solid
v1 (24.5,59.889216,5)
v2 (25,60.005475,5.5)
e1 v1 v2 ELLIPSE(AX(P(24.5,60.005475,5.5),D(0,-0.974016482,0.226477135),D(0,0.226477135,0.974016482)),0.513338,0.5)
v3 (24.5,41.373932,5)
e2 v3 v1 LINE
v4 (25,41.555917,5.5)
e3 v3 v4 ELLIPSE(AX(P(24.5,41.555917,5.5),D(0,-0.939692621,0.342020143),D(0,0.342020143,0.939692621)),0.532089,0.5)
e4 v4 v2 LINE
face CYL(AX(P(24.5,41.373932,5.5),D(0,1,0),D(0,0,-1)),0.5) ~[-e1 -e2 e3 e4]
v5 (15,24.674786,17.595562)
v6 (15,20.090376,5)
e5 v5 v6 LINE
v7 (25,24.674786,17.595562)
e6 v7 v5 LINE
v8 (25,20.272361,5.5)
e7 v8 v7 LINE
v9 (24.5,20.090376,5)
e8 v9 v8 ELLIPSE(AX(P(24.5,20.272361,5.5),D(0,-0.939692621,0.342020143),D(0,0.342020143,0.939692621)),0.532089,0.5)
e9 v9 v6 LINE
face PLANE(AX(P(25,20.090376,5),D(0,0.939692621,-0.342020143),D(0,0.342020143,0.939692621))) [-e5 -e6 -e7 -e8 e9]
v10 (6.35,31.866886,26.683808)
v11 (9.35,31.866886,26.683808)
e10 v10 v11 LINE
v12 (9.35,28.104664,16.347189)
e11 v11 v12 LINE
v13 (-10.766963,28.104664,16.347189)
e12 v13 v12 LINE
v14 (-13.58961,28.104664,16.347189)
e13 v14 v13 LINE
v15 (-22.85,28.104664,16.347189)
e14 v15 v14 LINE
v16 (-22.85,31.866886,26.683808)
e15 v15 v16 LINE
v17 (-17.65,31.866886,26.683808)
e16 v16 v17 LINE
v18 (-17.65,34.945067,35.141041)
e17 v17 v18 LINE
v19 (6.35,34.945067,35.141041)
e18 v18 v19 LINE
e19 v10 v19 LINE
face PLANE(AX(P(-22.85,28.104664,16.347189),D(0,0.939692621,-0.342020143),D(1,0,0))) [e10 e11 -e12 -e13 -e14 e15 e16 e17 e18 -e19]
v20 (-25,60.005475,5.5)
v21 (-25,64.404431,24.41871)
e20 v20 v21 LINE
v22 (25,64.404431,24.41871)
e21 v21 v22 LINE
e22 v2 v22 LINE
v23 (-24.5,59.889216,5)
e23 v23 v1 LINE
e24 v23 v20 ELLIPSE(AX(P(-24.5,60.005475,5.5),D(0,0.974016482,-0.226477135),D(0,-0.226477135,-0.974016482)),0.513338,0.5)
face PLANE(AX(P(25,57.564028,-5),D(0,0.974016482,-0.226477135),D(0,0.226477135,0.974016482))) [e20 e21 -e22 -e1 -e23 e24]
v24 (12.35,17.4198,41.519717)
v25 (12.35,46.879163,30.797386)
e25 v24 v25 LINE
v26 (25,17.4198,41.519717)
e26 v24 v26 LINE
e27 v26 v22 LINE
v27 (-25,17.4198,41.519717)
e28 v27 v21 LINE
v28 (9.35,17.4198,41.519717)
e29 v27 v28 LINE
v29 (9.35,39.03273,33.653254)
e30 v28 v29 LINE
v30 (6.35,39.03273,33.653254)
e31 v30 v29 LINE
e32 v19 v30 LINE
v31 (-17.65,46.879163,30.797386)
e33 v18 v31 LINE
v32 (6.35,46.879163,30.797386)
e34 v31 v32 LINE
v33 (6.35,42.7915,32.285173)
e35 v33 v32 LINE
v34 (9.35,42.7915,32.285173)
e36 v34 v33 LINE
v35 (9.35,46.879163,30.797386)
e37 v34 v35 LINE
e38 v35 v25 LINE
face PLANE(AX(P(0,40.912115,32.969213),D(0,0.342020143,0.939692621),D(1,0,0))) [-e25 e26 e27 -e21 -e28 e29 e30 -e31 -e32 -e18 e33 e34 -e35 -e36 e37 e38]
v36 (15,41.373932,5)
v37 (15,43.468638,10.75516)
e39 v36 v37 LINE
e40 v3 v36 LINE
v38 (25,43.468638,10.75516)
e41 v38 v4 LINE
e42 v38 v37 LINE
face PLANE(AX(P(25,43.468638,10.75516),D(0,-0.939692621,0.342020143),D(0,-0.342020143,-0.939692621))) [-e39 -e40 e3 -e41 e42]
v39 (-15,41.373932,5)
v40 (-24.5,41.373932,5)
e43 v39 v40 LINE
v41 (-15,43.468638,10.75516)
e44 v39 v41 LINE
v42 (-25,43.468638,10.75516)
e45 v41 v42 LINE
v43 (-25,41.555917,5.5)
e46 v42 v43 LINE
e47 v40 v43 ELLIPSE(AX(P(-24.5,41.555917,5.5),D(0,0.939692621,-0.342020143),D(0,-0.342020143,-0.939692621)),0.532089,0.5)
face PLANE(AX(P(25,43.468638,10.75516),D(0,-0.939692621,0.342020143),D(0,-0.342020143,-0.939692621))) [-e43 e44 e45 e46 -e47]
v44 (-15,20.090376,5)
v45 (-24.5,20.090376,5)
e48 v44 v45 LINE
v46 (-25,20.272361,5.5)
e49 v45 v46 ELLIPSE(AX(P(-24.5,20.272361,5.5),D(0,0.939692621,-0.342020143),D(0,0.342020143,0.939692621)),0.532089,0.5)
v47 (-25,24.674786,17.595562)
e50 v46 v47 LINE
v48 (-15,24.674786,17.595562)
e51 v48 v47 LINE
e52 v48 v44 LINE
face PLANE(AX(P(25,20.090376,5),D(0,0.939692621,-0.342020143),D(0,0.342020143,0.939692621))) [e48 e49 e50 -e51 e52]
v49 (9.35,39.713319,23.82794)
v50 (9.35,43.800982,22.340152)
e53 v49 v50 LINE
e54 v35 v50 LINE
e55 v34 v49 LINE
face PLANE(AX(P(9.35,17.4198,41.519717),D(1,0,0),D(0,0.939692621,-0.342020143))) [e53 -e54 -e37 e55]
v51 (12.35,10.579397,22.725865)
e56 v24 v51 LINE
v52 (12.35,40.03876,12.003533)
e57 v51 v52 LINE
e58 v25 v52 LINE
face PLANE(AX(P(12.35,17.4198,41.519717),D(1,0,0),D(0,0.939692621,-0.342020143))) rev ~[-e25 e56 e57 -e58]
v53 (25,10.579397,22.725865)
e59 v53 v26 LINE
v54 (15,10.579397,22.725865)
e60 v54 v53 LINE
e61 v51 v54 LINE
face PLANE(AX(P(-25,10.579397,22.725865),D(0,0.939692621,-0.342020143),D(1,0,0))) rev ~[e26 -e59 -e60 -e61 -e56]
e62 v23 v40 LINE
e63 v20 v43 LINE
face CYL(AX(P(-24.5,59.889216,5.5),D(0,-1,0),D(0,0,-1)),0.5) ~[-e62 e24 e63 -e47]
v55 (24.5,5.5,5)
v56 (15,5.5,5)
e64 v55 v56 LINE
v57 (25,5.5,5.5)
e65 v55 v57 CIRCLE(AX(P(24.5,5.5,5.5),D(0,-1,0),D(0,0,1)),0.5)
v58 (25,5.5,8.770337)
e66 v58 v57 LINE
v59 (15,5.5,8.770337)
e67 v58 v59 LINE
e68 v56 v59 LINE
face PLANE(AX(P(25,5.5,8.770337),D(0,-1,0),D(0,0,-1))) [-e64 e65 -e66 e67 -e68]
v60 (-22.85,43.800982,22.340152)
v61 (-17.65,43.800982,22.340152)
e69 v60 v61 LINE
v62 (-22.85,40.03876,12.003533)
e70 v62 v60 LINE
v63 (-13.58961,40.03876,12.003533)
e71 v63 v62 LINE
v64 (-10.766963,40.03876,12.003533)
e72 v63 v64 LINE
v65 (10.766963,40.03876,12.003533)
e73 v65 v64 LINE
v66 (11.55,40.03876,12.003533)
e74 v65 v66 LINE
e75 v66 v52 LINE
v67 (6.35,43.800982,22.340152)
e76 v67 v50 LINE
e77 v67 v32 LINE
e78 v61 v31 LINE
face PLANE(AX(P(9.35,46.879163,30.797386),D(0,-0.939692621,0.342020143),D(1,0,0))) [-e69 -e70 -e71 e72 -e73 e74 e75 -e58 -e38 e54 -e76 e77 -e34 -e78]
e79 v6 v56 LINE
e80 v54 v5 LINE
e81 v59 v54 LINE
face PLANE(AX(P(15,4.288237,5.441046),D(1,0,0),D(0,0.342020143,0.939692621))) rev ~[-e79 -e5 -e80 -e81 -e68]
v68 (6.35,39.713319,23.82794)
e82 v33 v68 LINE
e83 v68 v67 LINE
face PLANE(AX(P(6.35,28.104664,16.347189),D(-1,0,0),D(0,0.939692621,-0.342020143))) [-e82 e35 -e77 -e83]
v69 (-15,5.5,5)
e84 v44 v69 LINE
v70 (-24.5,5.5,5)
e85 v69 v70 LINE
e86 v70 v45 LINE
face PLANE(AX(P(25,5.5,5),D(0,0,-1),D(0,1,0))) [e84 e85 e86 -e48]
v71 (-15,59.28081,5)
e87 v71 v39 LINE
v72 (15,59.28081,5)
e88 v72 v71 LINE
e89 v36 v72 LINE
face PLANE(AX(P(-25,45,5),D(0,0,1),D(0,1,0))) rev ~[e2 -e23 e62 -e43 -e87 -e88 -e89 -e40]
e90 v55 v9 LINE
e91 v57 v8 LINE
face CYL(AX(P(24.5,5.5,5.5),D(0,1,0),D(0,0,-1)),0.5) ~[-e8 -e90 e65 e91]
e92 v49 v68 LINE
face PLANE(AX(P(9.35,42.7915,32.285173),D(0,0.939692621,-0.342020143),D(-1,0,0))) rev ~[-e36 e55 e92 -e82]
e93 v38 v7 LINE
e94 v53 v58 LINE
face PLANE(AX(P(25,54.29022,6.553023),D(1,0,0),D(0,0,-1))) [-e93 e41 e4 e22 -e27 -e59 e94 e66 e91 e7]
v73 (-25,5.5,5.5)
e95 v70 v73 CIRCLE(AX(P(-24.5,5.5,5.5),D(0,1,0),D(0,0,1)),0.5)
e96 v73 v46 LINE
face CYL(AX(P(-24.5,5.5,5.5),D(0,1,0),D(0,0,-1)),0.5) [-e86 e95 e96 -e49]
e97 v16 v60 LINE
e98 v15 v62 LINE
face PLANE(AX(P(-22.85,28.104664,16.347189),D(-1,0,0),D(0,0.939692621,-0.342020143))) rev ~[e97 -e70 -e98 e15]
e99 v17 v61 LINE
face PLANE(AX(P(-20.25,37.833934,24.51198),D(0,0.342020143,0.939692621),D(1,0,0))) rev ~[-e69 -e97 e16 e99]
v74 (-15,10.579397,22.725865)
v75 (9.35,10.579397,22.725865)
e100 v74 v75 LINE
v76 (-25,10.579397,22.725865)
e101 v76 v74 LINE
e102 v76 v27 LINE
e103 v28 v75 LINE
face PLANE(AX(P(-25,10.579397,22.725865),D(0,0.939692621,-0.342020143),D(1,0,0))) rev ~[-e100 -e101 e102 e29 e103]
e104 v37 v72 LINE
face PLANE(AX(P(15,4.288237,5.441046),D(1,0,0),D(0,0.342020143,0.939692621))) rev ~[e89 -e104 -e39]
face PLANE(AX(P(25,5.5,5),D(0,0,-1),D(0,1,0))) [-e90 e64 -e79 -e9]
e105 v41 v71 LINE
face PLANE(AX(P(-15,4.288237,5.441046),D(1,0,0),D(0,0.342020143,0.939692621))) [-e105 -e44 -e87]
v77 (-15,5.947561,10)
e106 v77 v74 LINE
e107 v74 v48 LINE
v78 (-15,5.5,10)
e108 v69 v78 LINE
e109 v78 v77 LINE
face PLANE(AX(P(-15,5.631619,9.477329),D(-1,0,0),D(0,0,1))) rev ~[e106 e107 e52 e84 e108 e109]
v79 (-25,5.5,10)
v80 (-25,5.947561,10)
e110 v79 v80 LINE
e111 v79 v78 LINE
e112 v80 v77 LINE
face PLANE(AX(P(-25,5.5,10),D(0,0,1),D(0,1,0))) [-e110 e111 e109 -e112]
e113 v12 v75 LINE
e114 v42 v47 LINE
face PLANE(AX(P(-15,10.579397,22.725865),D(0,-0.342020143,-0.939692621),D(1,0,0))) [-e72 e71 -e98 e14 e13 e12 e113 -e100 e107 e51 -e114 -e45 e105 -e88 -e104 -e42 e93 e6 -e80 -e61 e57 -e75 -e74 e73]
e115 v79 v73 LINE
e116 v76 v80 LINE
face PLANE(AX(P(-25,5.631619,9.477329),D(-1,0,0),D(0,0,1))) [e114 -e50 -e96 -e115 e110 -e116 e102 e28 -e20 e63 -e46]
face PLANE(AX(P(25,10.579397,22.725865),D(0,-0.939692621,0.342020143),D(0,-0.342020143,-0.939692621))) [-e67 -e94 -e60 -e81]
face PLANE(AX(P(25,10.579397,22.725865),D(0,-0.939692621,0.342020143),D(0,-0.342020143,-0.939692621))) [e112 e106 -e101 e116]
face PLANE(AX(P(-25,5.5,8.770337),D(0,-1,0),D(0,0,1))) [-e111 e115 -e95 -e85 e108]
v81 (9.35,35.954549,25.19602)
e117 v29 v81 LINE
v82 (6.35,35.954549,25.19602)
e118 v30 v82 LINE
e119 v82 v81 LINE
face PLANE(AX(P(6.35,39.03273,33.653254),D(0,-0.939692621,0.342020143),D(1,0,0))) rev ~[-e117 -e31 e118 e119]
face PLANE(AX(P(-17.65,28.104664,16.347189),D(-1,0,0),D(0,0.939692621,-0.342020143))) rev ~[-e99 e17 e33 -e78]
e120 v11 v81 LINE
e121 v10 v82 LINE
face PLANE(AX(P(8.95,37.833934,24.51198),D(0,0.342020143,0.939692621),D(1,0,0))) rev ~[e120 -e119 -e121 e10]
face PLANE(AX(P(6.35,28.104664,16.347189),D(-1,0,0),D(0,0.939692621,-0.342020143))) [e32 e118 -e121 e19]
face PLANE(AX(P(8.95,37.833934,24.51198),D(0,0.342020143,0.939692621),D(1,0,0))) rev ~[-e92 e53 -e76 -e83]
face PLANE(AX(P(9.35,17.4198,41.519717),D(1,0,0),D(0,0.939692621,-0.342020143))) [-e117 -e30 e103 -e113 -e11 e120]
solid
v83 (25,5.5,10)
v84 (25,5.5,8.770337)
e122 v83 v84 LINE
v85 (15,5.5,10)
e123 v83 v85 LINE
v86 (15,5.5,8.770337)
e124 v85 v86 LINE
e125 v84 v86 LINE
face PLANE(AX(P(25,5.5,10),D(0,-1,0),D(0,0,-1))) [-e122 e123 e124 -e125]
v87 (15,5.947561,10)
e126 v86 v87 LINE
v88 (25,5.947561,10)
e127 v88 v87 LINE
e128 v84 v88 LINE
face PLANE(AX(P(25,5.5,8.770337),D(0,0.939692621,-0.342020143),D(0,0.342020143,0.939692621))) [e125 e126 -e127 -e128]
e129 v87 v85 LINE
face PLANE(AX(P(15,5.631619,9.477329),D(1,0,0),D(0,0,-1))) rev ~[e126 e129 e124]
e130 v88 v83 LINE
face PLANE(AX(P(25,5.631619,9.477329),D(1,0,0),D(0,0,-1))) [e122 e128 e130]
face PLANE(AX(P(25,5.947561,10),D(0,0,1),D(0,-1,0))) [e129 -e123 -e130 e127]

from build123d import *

# Parameters (mm, degrees)
SKETCH2_W            = 6
SKETCH2_H            = 6
BOSS_EXTRUDE1_DEPTH  = 5
SKETCH3_W            = 200
SKETCH3_H            = 20
CUT_EXTRUDE1_DEPTH   = 5
SKETCH4_W            = 5
SKETCH4_H            = 5
CUT_EXTRUDE2_DEPTH   = 5
SKETCH6_W            = 100
SKETCH6_H            = 20
BOSS_EXTRUDE2_DEPTH  = 100
BOSS_EXTRUDE3_DEPTH  = 100
CUT_EXTRUDE4_DEPTH   = 100
BOSS_EXTRUDE5_DEPTH  = 100
SKETCH14_R           = 12.5
CUT_EXTRUDE5_DEPTH   = 100
SKETCH15_R           = 15
SKETCH15_R_2         = 12.5
BOSS_EXTRUDE6_DEPTH  = 40
SKETCH16_W           = 50
SKETCH16_H           = 61.072294376
CUT_EXTRUDE10_DEPTH  = 35
SKETCH15_4_R         = 15
SKETCH15_4_R_2       = 12.5
CUT_EXTRUDE11_DEPTH  = 15
BOSS_EXTRUDE7_DEPTH  = 5
SKETCH23_R           = 15
SKETCH23_R_2         = 12.5
BOSS_EXTRUDE8_DEPTH  = 25
SKETCH21_W           = 50
SKETCH21_H           = 55
CUT_EXTRUDE12_DEPTH  = 35
SKETCH22_W           = 50
SKETCH22_H           = 55
BOSS_EXTRUDE9_DEPTH  = 5
SKETCH23_3_R         = 12.5
CUT_EXTRUDE13_DEPTH  = 20
CUT_EXTRUDE15_DEPTH  = 3
CUT_EXTRUDE16_DEPTH  = 5
SKETCH28_3_W         = 50
SKETCH28_3_H         = 5
BOSS_EXTRUDE12_DEPTH = 5
SKETCH31_W           = 50
SKETCH31_H           = 50
SKETCH31_W_2         = 24
SKETCH31_H_2         = 12.7
BOSS_EXTRUDE13_DEPTH = 20
SKETCH31_5_W         = 5.2
SKETCH31_5_H         = 12.7
CUT_EXTRUDE17_DEPTH  = 11
CUT_EXTRUDE18_DEPTH  = 9
SKETCH34_W           = 50
SKETCH34_H           = 50
CUT_EXTRUDE19_DEPTH  = 105
CUT_EXTRUDE20_DEPTH  = 110
SKETCH38_R           = 15
SKETCH38_R_2         = 12.5
CUT_EXTRUDE21_DEPTH  = 20
SKETCH39_W           = 3
SKETCH39_H           = 31.35
CUT_EXTRUDE23_DEPTH  = 20
BOSS_EXTRUDE15_DEPTH = 50
SKETCH42_W           = 30
SKETCH42_H           = 18.394120173
CUT_EXTRUDE24_DEPTH  = 55
CUT_EXTRUDE25_DEPTH  = 55
FILLET1_R            = 0.5
BOSS_EXTRUDE16_DEPTH = 10
BOSS_EXTRUDE17_DEPTH = 10


with BuildPart() as part:
    # Sketch2 → Boss-Extrude1 (new body)
    with BuildSketch(Plane.XY):
        Polygon((-100, 75), (-100, -45), (-60, -45), (-60, -65), (0, -65), (60, -65), (60, -45), (100, -45), (100, 75), align=None)
        with Locations((55, -50)):
            Rectangle(SKETCH2_W, SKETCH2_H, mode=Mode.SUBTRACT)
        with Locations((-55, -50)):
            Rectangle(SKETCH2_W, SKETCH2_H, mode=Mode.SUBTRACT)
    extrude(amount=BOSS_EXTRUDE1_DEPTH)

    # Sketch3 → Cut-Extrude1 (cut)
    with BuildSketch(Plane.XY.offset(5)):
        with Locations((0, 65)):
            Rectangle(SKETCH3_W, SKETCH3_H)
    extrude(amount=-CUT_EXTRUDE1_DEPTH, mode=Mode.SUBTRACT)

    # Sketch4 → Cut-Extrude2 (cut)
    with BuildSketch(Plane(origin=(0, 0, 0), x_dir=(-1, 0, 0), z_dir=(0, 0, -1))):
        with Locations((-97.5, 47.5)):
            Rectangle(SKETCH4_W, SKETCH4_H)
        Polygon((95, 50), (95, 45), (97.5, 45), (100, 45), (100, 50), align=None)
        with Locations((-97.5, 5)):
            Rectangle(SKETCH4_W, SKETCH4_H)
        with Locations((97.5, 5)):
            Rectangle(SKETCH4_W, SKETCH4_H)
        with Locations((-97.5, -37.5)):
            Rectangle(SKETCH4_W, SKETCH4_H)
        Polygon((100, -35), (95, -35), (95, -40), (97.5, -40), (100, -40), align=None)
    extrude(amount=-CUT_EXTRUDE2_DEPTH, mode=Mode.SUBTRACT)

    # Sketch6 → Boss-Extrude2 (add)
    with BuildSketch(Plane(origin=(0, 0, 0), x_dir=(-1, 0, 0), z_dir=(0, 0, -1))):
        with Locations((0, -55)):
            Rectangle(SKETCH6_W, SKETCH6_H)
    extrude(amount=BOSS_EXTRUDE2_DEPTH)

    # Sketch8 → Boss-Extrude3 (add)
    with BuildSketch(Plane(origin=(50, 0, 0), x_dir=(0, 0, -1), z_dir=(1, 0, 0))):
        Polygon((42.17911114, -45), (100, -45), (100, 55), (78.57613456, 55), (63.797824283, 14.396926208), (60.37762285, 5), (56.957421417, -4.396926208), align=None)
    extrude(amount=-BOSS_EXTRUDE3_DEPTH)

    # Sketch12 → Cut-Extrude4 (cut)
    with BuildSketch(Plane(origin=(50, 0, 0), x_dir=(0, 0, -1), z_dir=(1, 0, 0))):
        Polygon((78.57613456, 55), (42.17911114, -45), (47.5, -45), (83.89702342, 55), align=None)
    extrude(amount=-CUT_EXTRUDE4_DEPTH, mode=Mode.SUBTRACT)

    # Sketch13 → Boss-Extrude5 (add)
    with BuildSketch(Plane(origin=(0, -20.530205756, -56.406276742), x_dir=(1, 0, 0), z_dir=(0, 0.3420201432707361, 0.9396926208059023))):
        with BuildLine():
            ThreePointArc((10, 27.168677492), (7.071067812, 34.239745304), (0, 37.168677492))
            ThreePointArc((0, 37.168677492), (-7.071067812, 20.09760968), (10, 27.168677492))
        make_face()
    extrude(amount=BOSS_EXTRUDE5_DEPTH)

    # Sketch14 → Cut-Extrude5 (cut)
    with BuildSketch(Plane(origin=(0, 13.671808571, 37.562985339), x_dir=(1, 0, 0), z_dir=(0, 0.34202014327073604, 0.9396926208059022))):
        with Locations((0, 27.168677492)):
            Circle(SKETCH14_R)
    extrude(amount=-CUT_EXTRUDE5_DEPTH, mode=Mode.SUBTRACT)

    # Sketch15 → Boss-Extrude6 (add)
    with BuildSketch(Plane(origin=(0, 13.671808571, 37.562985339), x_dir=(1, 0, 0), z_dir=(0, 0.3420201432707362, 0.9396926208059023))):
        with Locations((0, 27.168677492)):
            Circle(SKETCH15_R)
        with Locations((0, 27.168677492)):
            Circle(SKETCH15_R_2, mode=Mode.SUBTRACT)
    extrude(amount=-BOSS_EXTRUDE6_DEPTH)

    # Sketch16 → Cut-Extrude10 (cut)
    with BuildSketch(Plane(origin=(0, 0, -30), x_dir=(-1, 0, 0), z_dir=(0, 0, -1))):
        with Locations((0, 30.536147188)):
            Rectangle(SKETCH16_W, SKETCH16_H)
    extrude(amount=-CUT_EXTRUDE10_DEPTH, mode=Mode.SUBTRACT)


with BuildPart() as cut_extrude10_piece_1:
    # of the separate pieces the step leaves, piece 1, a body of its own (cut_extrude10_pieces)
    add(part.part.solids().sort_by_distance((-100, 55, 0))[0])

    # Sketch18 → Boss-Extrude7 (add)
    with BuildSketch(Plane.XY.offset(5)):
        Polygon((30, 55), (25, 55), (25, 0), (-25, 0), (-25, 55), (-30, 55), (-30, -5), (30, -5), (30, 0), align=None)
    extrude(amount=BOSS_EXTRUDE7_DEPTH)



with BuildPart() as cut_extrude10_piece_2:
    # of the separate pieces the step leaves, piece 2, a body of its own (cut_extrude10_pieces)
    add(part.part.solids().sort_by_distance((15, 39.202014327, 28.270750371))[0])

    # Sketch15<4> → Cut-Extrude11 (cut)
    with BuildSketch(Plane(origin=(0, 13.671808571, 37.562985339), x_dir=(1, 0, 0), z_dir=(0, 0.3420201432707362, 0.9396926208059023))):
        with Locations((0, 27.168677492)):
            Circle(SKETCH15_4_R)
        with Locations((0, 27.168677492)):
            Circle(SKETCH15_4_R_2, mode=Mode.SUBTRACT)
    extrude(amount=-CUT_EXTRUDE11_DEPTH, mode=Mode.SUBTRACT)

    # Sketch23 → Boss-Extrude8 (add)
    with BuildSketch(Plane(origin=(0, 8.541506422, 23.467596027), x_dir=(1, 0, 0), z_dir=(0, 0.34202014327073627, 0.9396926208059023))):
        with Locations((0, 27.168677492)):
            Circle(SKETCH23_R)
        with Locations((0, 27.168677492)):
            Circle(SKETCH23_R_2, mode=Mode.SUBTRACT)
    extrude(amount=-BOSS_EXTRUDE8_DEPTH)

    # Sketch21 → Cut-Extrude12 (cut)
    with BuildSketch(Plane(origin=(0, 0, -30), x_dir=(-1, 0, 0), z_dir=(0, 0, -1))):
        with Locations((0, 27.5)):
            Rectangle(SKETCH21_W, SKETCH21_H)
    extrude(amount=-CUT_EXTRUDE12_DEPTH, mode=Mode.SUBTRACT)


with BuildPart() as cut_extrude10_piece_1_1:
    add(cut_extrude10_piece_1.part)

    add(cut_extrude10_piece_2.part)  # Boss-Extrude9 merges Cut-Extrude10 piece 2
    # Sketch22 → Boss-Extrude9 (add)
    with BuildSketch(Plane(origin=(0, 0, 0), x_dir=(-1, 0, 0), z_dir=(0, 0, -1))):
        with Locations((0, 27.5)):
            Rectangle(SKETCH22_W, SKETCH22_H)
    extrude(amount=-BOSS_EXTRUDE9_DEPTH)

    # Sketch23<3> → Cut-Extrude13 (cut)
    with BuildSketch(Plane(origin=(0, 8.541506422, 23.467596027), x_dir=(1, 0, 0), z_dir=(0, 0.34202014327073627, 0.9396926208059023))):
        with Locations((0, 27.168677492)):
            Circle(SKETCH23_3_R)
    extrude(amount=-CUT_EXTRUDE13_DEPTH, mode=Mode.SUBTRACT)

    # Sketch27 → Cut-Extrude15 (cut)
    with BuildSketch(Plane(origin=(0, 8.541506422, 23.467596027), x_dir=(1, 0, 0), z_dir=(0, 0.34202014327073627, 0.9396926208059023))):
        with BuildLine():
            ThreePointArc((2, 42.034746239), (0, 42.168677492), (-2, 42.034746239))
            Line((-2, 42.034746239), (-2, 39.507640171))
            ThreePointArc((-2, 39.507640171), (0, 39.668677492), (2, 39.507640171))
            Line((2, 39.507640171), (2, 42.034746239))
        make_face()
        with BuildLine():
            Line((-12.338962679, 29.168677492), (-14.866068747, 29.168677492))
            ThreePointArc((-14.866068747, 29.168677492), (-15, 27.168677492), (-14.866068747, 25.168677492))
            Line((-14.866068747, 25.168677492), (-12.338962679, 25.168677492))
            ThreePointArc((-12.338962679, 25.168677492), (-12.5, 27.168677492), (-12.338962679, 29.168677492))
        make_face()
        with BuildLine():
            ThreePointArc((14.866068747, 25.168677492), (15, 27.168677492), (14.866068747, 29.168677492))
            Line((14.866068747, 29.168677492), (12.338962679, 29.168677492))
            ThreePointArc((12.338962679, 29.168677492), (12.5, 27.168677492), (12.338962679, 25.168677492))
            Line((12.338962679, 25.168677492), (14.866068747, 25.168677492))
        make_face()
        with BuildLine():
            ThreePointArc((2, 14.829714813), (0, 14.668677492), (-2, 14.829714813))
            Line((-2, 14.829714813), (-2, 12.302608744))
            ThreePointArc((-2, 12.302608744), (0, 12.168677492), (2, 12.302608744))
            Line((2, 12.302608744), (2, 14.829714813))
        make_face()
    extrude(amount=-CUT_EXTRUDE15_DEPTH, mode=Mode.SUBTRACT)

    # Sketch28 → Cut-Extrude16 (cut)
    with BuildSketch(Plane.XY.offset(10)):
        Polygon((25, 0), (-25, 0), (-30, 0), (-30, -5), (30, -5), (30, 0), align=None)
    extrude(amount=-CUT_EXTRUDE16_DEPTH, mode=Mode.SUBTRACT)

    # Sketch28<3> → Boss-Extrude12 (add)
    with BuildSketch(Plane.XY.offset(10)):
        with Locations((0, 2.5)):
            Rectangle(SKETCH28_3_W, SKETCH28_3_H)
    extrude(amount=-BOSS_EXTRUDE12_DEPTH)

    # Sketch31 → Boss-Extrude13 (add)
    with BuildSketch(Plane(origin=(0, 8.541506422, 23.467596027), x_dir=(1, 0, 0), z_dir=(0, 0.34202014327073627, 0.9396926208059023))):
        with Locations((0, 27.168677492)):
            Rectangle(SKETCH31_W, SKETCH31_H)
        with Locations((-5.65, 27.168677492)):
            Rectangle(SKETCH31_W_2, SKETCH31_H_2, mode=Mode.SUBTRACT)
    extrude(amount=BOSS_EXTRUDE13_DEPTH)

    # Sketch31<5> → Cut-Extrude17 (cut)
    with BuildSketch(Plane(origin=(0, 8.541506422, 23.467596027), x_dir=(1, 0, 0), z_dir=(0, 0.34202014327073627, 0.9396926208059023))):
        with Locations((8.95, 27.168677492)):
            Rectangle(SKETCH31_5_W, SKETCH31_5_H)
        with Locations((-20.25, 27.168677492)):
            Rectangle(SKETCH31_5_W, SKETCH31_5_H)
    extrude(amount=CUT_EXTRUDE17_DEPTH, mode=Mode.SUBTRACT)

    # Sketch32 → Cut-Extrude18 (cut)
    with BuildSketch(Plane(origin=(0, 15.381909287, 42.261448443), x_dir=(1, 0, 0), z_dir=(0, 0.3420201432707363, 0.9396926208059021))):
        Polygon((9.35, 29.168677492), (6.35, 29.168677492), (6.35, 27.168677492), (6.35, 25.168677492), (9.35, 25.168677492), align=None)
    extrude(amount=-CUT_EXTRUDE18_DEPTH, mode=Mode.SUBTRACT)

    # Sketch34 → Cut-Extrude19 (cut)
    with BuildSketch(Plane(origin=(0, 0, -100), x_dir=(-1, 0, 0), z_dir=(0, 0, -1))):
        Polygon((-100, 55), (-100, -65), (100, -65), (100, 55), (30, 55), (30, 0), (-30, 0), (-30, 55), align=None)
        with Locations((0, 30)):
            Rectangle(SKETCH34_W, SKETCH34_H)
    extrude(amount=-CUT_EXTRUDE19_DEPTH, mode=Mode.SUBTRACT)


with BuildPart() as cut_extrude19_piece_1:
    # of the separate pieces the step leaves, piece 1, a body of its own (cut_extrude19_pieces)
    add(cut_extrude10_piece_1_1.part.solids().sort_by_distance((-30, 55, 0))[0])


with BuildPart() as cut_extrude19_piece_2:
    # of the separate pieces the step leaves, piece 2, a body of its own (cut_extrude19_pieces)
    add(cut_extrude10_piece_1_1.part.solids().sort_by_distance((30, 55, -100))[0])


with BuildPart() as cut_extrude20_tool:
    # Sketch34<3> → Cut-Extrude20 (new body)
    with BuildSketch(Plane(origin=(0, 0, -100), x_dir=(-1, 0, 0), z_dir=(0, 0, -1))):
        Polygon((-25, 55), (-30, 55), (-30, 0), (30, 0), (30, 55), (25, 55), (25, 5), (-25, 5), align=None)
    extrude(amount=-CUT_EXTRUDE20_DEPTH)


with BuildPart() as cut_extrude19_piece_1_1:
    add(cut_extrude19_piece_1.part)

    # Cut-Extrude20: cut by cut_extrude20_tool
    add(cut_extrude20_tool.part, mode=Mode.SUBTRACT)

    # Sketch38 → Cut-Extrude21 (cut)
    with BuildSketch(Plane(origin=(0, 1.701103557, 4.673743611), x_dir=(-1, 0, 0), z_dir=(0, -0.3420201432707364, -0.9396926208059022))):
        with Locations((0, 27.168677492)):
            Circle(SKETCH38_R)
        with Locations((0, 27.168677492)):
            Circle(SKETCH38_R_2, mode=Mode.SUBTRACT)
    extrude(amount=-CUT_EXTRUDE21_DEPTH, mode=Mode.SUBTRACT)

    # Sketch39 → Cut-Extrude23 (cut)
    with BuildSketch(Plane(origin=(0, 15.381909287, 42.261448443), x_dir=(1, 0, 0), z_dir=(0, 0.3420201432707363, 0.9396926208059021))):
        with Locations((10.85, 17.843677492)):
            Rectangle(SKETCH39_W, SKETCH39_H)
    extrude(amount=-CUT_EXTRUDE23_DEPTH, mode=Mode.SUBTRACT)

    # Sketch36 → Boss-Extrude15 (add)
    with BuildSketch(Plane(origin=(25, 0, 0), x_dir=(0, 0, -1), z_dir=(1, 0, 0))):
        Polygon((5, 57.564027698), (-24.418709893, 64.404430564), (-5.624857477, 57.564027698), (-10.755159626, 43.468638386), (-5, 41.373931589), (-5, 55), (0, 55), (0, 45), (5, 45), align=None)
        Polygon((-17.595562491, 24.67478597), (-22.72586464, 10.579396658), (-8.770337016, 5.5), (-5, 5.5), (-5, 20.09037614), align=None)
    extrude(amount=-BOSS_EXTRUDE15_DEPTH)

    # Sketch42 → Cut-Extrude24 (cut)
    with BuildSketch(Plane(origin=(0, 2.037890236, -0.741731386), x_dir=(1, 0, 0), z_dir=(0, -0.9396926208059022, 0.3420201432707364))):
        with Locations((0, 15.776633978)):
            Rectangle(SKETCH42_W, SKETCH42_H)
    extrude(amount=-CUT_EXTRUDE24_DEPTH, mode=Mode.SUBTRACT)

    # Sketch43 → Cut-Extrude25 (cut)
    with BuildSketch(Plane.ZY.offset(25)):
        Polygon((5, 55), (5, 64.404430564), (-5, 64.404430564), (-5, 45), (5, 45), align=None)
    extrude(amount=-CUT_EXTRUDE25_DEPTH, mode=Mode.SUBTRACT)

    # Fillet1
    fillet1_edges = [cut_extrude19_piece_1_1.edges().sort_by_distance(p)[0] for p in [
        (-25, 50.6315736, 5),
        (-25, 12.79518807, 5),
        (25, 12.79518807, 5),
        (25, 50.6315736, 5),
    ]]
    fillet(fillet1_edges, radius=FILLET1_R)

    # Sketch45 → Boss-Extrude16 (add)
    with BuildSketch(Plane.ZY.offset(25)):
        Polygon((10, 5.947560724), (8.770337016, 5.5), (10, 5.5), align=None)
    extrude(amount=-BOSS_EXTRUDE16_DEPTH)


with BuildPart() as cut_extrude19_piece_2_1:
    add(cut_extrude19_piece_2.part)

    # Cut-Extrude20: cut by cut_extrude20_tool
    add(cut_extrude20_tool.part, mode=Mode.SUBTRACT)


with BuildPart() as body_2:
    # Sketch46 → Boss-Extrude17 (new body)
    with BuildSketch(Plane(origin=(25, 0, 0), x_dir=(0, 0, -1), z_dir=(1, 0, 0))):
        Polygon((-10, 5.5), (-8.770337016, 5.5), (-10, 5.947560724), align=None)
    extrude(amount=-BOSS_EXTRUDE17_DEPTH)


solid = Compound([cut_extrude19_piece_1_1.part, body_2.part])
